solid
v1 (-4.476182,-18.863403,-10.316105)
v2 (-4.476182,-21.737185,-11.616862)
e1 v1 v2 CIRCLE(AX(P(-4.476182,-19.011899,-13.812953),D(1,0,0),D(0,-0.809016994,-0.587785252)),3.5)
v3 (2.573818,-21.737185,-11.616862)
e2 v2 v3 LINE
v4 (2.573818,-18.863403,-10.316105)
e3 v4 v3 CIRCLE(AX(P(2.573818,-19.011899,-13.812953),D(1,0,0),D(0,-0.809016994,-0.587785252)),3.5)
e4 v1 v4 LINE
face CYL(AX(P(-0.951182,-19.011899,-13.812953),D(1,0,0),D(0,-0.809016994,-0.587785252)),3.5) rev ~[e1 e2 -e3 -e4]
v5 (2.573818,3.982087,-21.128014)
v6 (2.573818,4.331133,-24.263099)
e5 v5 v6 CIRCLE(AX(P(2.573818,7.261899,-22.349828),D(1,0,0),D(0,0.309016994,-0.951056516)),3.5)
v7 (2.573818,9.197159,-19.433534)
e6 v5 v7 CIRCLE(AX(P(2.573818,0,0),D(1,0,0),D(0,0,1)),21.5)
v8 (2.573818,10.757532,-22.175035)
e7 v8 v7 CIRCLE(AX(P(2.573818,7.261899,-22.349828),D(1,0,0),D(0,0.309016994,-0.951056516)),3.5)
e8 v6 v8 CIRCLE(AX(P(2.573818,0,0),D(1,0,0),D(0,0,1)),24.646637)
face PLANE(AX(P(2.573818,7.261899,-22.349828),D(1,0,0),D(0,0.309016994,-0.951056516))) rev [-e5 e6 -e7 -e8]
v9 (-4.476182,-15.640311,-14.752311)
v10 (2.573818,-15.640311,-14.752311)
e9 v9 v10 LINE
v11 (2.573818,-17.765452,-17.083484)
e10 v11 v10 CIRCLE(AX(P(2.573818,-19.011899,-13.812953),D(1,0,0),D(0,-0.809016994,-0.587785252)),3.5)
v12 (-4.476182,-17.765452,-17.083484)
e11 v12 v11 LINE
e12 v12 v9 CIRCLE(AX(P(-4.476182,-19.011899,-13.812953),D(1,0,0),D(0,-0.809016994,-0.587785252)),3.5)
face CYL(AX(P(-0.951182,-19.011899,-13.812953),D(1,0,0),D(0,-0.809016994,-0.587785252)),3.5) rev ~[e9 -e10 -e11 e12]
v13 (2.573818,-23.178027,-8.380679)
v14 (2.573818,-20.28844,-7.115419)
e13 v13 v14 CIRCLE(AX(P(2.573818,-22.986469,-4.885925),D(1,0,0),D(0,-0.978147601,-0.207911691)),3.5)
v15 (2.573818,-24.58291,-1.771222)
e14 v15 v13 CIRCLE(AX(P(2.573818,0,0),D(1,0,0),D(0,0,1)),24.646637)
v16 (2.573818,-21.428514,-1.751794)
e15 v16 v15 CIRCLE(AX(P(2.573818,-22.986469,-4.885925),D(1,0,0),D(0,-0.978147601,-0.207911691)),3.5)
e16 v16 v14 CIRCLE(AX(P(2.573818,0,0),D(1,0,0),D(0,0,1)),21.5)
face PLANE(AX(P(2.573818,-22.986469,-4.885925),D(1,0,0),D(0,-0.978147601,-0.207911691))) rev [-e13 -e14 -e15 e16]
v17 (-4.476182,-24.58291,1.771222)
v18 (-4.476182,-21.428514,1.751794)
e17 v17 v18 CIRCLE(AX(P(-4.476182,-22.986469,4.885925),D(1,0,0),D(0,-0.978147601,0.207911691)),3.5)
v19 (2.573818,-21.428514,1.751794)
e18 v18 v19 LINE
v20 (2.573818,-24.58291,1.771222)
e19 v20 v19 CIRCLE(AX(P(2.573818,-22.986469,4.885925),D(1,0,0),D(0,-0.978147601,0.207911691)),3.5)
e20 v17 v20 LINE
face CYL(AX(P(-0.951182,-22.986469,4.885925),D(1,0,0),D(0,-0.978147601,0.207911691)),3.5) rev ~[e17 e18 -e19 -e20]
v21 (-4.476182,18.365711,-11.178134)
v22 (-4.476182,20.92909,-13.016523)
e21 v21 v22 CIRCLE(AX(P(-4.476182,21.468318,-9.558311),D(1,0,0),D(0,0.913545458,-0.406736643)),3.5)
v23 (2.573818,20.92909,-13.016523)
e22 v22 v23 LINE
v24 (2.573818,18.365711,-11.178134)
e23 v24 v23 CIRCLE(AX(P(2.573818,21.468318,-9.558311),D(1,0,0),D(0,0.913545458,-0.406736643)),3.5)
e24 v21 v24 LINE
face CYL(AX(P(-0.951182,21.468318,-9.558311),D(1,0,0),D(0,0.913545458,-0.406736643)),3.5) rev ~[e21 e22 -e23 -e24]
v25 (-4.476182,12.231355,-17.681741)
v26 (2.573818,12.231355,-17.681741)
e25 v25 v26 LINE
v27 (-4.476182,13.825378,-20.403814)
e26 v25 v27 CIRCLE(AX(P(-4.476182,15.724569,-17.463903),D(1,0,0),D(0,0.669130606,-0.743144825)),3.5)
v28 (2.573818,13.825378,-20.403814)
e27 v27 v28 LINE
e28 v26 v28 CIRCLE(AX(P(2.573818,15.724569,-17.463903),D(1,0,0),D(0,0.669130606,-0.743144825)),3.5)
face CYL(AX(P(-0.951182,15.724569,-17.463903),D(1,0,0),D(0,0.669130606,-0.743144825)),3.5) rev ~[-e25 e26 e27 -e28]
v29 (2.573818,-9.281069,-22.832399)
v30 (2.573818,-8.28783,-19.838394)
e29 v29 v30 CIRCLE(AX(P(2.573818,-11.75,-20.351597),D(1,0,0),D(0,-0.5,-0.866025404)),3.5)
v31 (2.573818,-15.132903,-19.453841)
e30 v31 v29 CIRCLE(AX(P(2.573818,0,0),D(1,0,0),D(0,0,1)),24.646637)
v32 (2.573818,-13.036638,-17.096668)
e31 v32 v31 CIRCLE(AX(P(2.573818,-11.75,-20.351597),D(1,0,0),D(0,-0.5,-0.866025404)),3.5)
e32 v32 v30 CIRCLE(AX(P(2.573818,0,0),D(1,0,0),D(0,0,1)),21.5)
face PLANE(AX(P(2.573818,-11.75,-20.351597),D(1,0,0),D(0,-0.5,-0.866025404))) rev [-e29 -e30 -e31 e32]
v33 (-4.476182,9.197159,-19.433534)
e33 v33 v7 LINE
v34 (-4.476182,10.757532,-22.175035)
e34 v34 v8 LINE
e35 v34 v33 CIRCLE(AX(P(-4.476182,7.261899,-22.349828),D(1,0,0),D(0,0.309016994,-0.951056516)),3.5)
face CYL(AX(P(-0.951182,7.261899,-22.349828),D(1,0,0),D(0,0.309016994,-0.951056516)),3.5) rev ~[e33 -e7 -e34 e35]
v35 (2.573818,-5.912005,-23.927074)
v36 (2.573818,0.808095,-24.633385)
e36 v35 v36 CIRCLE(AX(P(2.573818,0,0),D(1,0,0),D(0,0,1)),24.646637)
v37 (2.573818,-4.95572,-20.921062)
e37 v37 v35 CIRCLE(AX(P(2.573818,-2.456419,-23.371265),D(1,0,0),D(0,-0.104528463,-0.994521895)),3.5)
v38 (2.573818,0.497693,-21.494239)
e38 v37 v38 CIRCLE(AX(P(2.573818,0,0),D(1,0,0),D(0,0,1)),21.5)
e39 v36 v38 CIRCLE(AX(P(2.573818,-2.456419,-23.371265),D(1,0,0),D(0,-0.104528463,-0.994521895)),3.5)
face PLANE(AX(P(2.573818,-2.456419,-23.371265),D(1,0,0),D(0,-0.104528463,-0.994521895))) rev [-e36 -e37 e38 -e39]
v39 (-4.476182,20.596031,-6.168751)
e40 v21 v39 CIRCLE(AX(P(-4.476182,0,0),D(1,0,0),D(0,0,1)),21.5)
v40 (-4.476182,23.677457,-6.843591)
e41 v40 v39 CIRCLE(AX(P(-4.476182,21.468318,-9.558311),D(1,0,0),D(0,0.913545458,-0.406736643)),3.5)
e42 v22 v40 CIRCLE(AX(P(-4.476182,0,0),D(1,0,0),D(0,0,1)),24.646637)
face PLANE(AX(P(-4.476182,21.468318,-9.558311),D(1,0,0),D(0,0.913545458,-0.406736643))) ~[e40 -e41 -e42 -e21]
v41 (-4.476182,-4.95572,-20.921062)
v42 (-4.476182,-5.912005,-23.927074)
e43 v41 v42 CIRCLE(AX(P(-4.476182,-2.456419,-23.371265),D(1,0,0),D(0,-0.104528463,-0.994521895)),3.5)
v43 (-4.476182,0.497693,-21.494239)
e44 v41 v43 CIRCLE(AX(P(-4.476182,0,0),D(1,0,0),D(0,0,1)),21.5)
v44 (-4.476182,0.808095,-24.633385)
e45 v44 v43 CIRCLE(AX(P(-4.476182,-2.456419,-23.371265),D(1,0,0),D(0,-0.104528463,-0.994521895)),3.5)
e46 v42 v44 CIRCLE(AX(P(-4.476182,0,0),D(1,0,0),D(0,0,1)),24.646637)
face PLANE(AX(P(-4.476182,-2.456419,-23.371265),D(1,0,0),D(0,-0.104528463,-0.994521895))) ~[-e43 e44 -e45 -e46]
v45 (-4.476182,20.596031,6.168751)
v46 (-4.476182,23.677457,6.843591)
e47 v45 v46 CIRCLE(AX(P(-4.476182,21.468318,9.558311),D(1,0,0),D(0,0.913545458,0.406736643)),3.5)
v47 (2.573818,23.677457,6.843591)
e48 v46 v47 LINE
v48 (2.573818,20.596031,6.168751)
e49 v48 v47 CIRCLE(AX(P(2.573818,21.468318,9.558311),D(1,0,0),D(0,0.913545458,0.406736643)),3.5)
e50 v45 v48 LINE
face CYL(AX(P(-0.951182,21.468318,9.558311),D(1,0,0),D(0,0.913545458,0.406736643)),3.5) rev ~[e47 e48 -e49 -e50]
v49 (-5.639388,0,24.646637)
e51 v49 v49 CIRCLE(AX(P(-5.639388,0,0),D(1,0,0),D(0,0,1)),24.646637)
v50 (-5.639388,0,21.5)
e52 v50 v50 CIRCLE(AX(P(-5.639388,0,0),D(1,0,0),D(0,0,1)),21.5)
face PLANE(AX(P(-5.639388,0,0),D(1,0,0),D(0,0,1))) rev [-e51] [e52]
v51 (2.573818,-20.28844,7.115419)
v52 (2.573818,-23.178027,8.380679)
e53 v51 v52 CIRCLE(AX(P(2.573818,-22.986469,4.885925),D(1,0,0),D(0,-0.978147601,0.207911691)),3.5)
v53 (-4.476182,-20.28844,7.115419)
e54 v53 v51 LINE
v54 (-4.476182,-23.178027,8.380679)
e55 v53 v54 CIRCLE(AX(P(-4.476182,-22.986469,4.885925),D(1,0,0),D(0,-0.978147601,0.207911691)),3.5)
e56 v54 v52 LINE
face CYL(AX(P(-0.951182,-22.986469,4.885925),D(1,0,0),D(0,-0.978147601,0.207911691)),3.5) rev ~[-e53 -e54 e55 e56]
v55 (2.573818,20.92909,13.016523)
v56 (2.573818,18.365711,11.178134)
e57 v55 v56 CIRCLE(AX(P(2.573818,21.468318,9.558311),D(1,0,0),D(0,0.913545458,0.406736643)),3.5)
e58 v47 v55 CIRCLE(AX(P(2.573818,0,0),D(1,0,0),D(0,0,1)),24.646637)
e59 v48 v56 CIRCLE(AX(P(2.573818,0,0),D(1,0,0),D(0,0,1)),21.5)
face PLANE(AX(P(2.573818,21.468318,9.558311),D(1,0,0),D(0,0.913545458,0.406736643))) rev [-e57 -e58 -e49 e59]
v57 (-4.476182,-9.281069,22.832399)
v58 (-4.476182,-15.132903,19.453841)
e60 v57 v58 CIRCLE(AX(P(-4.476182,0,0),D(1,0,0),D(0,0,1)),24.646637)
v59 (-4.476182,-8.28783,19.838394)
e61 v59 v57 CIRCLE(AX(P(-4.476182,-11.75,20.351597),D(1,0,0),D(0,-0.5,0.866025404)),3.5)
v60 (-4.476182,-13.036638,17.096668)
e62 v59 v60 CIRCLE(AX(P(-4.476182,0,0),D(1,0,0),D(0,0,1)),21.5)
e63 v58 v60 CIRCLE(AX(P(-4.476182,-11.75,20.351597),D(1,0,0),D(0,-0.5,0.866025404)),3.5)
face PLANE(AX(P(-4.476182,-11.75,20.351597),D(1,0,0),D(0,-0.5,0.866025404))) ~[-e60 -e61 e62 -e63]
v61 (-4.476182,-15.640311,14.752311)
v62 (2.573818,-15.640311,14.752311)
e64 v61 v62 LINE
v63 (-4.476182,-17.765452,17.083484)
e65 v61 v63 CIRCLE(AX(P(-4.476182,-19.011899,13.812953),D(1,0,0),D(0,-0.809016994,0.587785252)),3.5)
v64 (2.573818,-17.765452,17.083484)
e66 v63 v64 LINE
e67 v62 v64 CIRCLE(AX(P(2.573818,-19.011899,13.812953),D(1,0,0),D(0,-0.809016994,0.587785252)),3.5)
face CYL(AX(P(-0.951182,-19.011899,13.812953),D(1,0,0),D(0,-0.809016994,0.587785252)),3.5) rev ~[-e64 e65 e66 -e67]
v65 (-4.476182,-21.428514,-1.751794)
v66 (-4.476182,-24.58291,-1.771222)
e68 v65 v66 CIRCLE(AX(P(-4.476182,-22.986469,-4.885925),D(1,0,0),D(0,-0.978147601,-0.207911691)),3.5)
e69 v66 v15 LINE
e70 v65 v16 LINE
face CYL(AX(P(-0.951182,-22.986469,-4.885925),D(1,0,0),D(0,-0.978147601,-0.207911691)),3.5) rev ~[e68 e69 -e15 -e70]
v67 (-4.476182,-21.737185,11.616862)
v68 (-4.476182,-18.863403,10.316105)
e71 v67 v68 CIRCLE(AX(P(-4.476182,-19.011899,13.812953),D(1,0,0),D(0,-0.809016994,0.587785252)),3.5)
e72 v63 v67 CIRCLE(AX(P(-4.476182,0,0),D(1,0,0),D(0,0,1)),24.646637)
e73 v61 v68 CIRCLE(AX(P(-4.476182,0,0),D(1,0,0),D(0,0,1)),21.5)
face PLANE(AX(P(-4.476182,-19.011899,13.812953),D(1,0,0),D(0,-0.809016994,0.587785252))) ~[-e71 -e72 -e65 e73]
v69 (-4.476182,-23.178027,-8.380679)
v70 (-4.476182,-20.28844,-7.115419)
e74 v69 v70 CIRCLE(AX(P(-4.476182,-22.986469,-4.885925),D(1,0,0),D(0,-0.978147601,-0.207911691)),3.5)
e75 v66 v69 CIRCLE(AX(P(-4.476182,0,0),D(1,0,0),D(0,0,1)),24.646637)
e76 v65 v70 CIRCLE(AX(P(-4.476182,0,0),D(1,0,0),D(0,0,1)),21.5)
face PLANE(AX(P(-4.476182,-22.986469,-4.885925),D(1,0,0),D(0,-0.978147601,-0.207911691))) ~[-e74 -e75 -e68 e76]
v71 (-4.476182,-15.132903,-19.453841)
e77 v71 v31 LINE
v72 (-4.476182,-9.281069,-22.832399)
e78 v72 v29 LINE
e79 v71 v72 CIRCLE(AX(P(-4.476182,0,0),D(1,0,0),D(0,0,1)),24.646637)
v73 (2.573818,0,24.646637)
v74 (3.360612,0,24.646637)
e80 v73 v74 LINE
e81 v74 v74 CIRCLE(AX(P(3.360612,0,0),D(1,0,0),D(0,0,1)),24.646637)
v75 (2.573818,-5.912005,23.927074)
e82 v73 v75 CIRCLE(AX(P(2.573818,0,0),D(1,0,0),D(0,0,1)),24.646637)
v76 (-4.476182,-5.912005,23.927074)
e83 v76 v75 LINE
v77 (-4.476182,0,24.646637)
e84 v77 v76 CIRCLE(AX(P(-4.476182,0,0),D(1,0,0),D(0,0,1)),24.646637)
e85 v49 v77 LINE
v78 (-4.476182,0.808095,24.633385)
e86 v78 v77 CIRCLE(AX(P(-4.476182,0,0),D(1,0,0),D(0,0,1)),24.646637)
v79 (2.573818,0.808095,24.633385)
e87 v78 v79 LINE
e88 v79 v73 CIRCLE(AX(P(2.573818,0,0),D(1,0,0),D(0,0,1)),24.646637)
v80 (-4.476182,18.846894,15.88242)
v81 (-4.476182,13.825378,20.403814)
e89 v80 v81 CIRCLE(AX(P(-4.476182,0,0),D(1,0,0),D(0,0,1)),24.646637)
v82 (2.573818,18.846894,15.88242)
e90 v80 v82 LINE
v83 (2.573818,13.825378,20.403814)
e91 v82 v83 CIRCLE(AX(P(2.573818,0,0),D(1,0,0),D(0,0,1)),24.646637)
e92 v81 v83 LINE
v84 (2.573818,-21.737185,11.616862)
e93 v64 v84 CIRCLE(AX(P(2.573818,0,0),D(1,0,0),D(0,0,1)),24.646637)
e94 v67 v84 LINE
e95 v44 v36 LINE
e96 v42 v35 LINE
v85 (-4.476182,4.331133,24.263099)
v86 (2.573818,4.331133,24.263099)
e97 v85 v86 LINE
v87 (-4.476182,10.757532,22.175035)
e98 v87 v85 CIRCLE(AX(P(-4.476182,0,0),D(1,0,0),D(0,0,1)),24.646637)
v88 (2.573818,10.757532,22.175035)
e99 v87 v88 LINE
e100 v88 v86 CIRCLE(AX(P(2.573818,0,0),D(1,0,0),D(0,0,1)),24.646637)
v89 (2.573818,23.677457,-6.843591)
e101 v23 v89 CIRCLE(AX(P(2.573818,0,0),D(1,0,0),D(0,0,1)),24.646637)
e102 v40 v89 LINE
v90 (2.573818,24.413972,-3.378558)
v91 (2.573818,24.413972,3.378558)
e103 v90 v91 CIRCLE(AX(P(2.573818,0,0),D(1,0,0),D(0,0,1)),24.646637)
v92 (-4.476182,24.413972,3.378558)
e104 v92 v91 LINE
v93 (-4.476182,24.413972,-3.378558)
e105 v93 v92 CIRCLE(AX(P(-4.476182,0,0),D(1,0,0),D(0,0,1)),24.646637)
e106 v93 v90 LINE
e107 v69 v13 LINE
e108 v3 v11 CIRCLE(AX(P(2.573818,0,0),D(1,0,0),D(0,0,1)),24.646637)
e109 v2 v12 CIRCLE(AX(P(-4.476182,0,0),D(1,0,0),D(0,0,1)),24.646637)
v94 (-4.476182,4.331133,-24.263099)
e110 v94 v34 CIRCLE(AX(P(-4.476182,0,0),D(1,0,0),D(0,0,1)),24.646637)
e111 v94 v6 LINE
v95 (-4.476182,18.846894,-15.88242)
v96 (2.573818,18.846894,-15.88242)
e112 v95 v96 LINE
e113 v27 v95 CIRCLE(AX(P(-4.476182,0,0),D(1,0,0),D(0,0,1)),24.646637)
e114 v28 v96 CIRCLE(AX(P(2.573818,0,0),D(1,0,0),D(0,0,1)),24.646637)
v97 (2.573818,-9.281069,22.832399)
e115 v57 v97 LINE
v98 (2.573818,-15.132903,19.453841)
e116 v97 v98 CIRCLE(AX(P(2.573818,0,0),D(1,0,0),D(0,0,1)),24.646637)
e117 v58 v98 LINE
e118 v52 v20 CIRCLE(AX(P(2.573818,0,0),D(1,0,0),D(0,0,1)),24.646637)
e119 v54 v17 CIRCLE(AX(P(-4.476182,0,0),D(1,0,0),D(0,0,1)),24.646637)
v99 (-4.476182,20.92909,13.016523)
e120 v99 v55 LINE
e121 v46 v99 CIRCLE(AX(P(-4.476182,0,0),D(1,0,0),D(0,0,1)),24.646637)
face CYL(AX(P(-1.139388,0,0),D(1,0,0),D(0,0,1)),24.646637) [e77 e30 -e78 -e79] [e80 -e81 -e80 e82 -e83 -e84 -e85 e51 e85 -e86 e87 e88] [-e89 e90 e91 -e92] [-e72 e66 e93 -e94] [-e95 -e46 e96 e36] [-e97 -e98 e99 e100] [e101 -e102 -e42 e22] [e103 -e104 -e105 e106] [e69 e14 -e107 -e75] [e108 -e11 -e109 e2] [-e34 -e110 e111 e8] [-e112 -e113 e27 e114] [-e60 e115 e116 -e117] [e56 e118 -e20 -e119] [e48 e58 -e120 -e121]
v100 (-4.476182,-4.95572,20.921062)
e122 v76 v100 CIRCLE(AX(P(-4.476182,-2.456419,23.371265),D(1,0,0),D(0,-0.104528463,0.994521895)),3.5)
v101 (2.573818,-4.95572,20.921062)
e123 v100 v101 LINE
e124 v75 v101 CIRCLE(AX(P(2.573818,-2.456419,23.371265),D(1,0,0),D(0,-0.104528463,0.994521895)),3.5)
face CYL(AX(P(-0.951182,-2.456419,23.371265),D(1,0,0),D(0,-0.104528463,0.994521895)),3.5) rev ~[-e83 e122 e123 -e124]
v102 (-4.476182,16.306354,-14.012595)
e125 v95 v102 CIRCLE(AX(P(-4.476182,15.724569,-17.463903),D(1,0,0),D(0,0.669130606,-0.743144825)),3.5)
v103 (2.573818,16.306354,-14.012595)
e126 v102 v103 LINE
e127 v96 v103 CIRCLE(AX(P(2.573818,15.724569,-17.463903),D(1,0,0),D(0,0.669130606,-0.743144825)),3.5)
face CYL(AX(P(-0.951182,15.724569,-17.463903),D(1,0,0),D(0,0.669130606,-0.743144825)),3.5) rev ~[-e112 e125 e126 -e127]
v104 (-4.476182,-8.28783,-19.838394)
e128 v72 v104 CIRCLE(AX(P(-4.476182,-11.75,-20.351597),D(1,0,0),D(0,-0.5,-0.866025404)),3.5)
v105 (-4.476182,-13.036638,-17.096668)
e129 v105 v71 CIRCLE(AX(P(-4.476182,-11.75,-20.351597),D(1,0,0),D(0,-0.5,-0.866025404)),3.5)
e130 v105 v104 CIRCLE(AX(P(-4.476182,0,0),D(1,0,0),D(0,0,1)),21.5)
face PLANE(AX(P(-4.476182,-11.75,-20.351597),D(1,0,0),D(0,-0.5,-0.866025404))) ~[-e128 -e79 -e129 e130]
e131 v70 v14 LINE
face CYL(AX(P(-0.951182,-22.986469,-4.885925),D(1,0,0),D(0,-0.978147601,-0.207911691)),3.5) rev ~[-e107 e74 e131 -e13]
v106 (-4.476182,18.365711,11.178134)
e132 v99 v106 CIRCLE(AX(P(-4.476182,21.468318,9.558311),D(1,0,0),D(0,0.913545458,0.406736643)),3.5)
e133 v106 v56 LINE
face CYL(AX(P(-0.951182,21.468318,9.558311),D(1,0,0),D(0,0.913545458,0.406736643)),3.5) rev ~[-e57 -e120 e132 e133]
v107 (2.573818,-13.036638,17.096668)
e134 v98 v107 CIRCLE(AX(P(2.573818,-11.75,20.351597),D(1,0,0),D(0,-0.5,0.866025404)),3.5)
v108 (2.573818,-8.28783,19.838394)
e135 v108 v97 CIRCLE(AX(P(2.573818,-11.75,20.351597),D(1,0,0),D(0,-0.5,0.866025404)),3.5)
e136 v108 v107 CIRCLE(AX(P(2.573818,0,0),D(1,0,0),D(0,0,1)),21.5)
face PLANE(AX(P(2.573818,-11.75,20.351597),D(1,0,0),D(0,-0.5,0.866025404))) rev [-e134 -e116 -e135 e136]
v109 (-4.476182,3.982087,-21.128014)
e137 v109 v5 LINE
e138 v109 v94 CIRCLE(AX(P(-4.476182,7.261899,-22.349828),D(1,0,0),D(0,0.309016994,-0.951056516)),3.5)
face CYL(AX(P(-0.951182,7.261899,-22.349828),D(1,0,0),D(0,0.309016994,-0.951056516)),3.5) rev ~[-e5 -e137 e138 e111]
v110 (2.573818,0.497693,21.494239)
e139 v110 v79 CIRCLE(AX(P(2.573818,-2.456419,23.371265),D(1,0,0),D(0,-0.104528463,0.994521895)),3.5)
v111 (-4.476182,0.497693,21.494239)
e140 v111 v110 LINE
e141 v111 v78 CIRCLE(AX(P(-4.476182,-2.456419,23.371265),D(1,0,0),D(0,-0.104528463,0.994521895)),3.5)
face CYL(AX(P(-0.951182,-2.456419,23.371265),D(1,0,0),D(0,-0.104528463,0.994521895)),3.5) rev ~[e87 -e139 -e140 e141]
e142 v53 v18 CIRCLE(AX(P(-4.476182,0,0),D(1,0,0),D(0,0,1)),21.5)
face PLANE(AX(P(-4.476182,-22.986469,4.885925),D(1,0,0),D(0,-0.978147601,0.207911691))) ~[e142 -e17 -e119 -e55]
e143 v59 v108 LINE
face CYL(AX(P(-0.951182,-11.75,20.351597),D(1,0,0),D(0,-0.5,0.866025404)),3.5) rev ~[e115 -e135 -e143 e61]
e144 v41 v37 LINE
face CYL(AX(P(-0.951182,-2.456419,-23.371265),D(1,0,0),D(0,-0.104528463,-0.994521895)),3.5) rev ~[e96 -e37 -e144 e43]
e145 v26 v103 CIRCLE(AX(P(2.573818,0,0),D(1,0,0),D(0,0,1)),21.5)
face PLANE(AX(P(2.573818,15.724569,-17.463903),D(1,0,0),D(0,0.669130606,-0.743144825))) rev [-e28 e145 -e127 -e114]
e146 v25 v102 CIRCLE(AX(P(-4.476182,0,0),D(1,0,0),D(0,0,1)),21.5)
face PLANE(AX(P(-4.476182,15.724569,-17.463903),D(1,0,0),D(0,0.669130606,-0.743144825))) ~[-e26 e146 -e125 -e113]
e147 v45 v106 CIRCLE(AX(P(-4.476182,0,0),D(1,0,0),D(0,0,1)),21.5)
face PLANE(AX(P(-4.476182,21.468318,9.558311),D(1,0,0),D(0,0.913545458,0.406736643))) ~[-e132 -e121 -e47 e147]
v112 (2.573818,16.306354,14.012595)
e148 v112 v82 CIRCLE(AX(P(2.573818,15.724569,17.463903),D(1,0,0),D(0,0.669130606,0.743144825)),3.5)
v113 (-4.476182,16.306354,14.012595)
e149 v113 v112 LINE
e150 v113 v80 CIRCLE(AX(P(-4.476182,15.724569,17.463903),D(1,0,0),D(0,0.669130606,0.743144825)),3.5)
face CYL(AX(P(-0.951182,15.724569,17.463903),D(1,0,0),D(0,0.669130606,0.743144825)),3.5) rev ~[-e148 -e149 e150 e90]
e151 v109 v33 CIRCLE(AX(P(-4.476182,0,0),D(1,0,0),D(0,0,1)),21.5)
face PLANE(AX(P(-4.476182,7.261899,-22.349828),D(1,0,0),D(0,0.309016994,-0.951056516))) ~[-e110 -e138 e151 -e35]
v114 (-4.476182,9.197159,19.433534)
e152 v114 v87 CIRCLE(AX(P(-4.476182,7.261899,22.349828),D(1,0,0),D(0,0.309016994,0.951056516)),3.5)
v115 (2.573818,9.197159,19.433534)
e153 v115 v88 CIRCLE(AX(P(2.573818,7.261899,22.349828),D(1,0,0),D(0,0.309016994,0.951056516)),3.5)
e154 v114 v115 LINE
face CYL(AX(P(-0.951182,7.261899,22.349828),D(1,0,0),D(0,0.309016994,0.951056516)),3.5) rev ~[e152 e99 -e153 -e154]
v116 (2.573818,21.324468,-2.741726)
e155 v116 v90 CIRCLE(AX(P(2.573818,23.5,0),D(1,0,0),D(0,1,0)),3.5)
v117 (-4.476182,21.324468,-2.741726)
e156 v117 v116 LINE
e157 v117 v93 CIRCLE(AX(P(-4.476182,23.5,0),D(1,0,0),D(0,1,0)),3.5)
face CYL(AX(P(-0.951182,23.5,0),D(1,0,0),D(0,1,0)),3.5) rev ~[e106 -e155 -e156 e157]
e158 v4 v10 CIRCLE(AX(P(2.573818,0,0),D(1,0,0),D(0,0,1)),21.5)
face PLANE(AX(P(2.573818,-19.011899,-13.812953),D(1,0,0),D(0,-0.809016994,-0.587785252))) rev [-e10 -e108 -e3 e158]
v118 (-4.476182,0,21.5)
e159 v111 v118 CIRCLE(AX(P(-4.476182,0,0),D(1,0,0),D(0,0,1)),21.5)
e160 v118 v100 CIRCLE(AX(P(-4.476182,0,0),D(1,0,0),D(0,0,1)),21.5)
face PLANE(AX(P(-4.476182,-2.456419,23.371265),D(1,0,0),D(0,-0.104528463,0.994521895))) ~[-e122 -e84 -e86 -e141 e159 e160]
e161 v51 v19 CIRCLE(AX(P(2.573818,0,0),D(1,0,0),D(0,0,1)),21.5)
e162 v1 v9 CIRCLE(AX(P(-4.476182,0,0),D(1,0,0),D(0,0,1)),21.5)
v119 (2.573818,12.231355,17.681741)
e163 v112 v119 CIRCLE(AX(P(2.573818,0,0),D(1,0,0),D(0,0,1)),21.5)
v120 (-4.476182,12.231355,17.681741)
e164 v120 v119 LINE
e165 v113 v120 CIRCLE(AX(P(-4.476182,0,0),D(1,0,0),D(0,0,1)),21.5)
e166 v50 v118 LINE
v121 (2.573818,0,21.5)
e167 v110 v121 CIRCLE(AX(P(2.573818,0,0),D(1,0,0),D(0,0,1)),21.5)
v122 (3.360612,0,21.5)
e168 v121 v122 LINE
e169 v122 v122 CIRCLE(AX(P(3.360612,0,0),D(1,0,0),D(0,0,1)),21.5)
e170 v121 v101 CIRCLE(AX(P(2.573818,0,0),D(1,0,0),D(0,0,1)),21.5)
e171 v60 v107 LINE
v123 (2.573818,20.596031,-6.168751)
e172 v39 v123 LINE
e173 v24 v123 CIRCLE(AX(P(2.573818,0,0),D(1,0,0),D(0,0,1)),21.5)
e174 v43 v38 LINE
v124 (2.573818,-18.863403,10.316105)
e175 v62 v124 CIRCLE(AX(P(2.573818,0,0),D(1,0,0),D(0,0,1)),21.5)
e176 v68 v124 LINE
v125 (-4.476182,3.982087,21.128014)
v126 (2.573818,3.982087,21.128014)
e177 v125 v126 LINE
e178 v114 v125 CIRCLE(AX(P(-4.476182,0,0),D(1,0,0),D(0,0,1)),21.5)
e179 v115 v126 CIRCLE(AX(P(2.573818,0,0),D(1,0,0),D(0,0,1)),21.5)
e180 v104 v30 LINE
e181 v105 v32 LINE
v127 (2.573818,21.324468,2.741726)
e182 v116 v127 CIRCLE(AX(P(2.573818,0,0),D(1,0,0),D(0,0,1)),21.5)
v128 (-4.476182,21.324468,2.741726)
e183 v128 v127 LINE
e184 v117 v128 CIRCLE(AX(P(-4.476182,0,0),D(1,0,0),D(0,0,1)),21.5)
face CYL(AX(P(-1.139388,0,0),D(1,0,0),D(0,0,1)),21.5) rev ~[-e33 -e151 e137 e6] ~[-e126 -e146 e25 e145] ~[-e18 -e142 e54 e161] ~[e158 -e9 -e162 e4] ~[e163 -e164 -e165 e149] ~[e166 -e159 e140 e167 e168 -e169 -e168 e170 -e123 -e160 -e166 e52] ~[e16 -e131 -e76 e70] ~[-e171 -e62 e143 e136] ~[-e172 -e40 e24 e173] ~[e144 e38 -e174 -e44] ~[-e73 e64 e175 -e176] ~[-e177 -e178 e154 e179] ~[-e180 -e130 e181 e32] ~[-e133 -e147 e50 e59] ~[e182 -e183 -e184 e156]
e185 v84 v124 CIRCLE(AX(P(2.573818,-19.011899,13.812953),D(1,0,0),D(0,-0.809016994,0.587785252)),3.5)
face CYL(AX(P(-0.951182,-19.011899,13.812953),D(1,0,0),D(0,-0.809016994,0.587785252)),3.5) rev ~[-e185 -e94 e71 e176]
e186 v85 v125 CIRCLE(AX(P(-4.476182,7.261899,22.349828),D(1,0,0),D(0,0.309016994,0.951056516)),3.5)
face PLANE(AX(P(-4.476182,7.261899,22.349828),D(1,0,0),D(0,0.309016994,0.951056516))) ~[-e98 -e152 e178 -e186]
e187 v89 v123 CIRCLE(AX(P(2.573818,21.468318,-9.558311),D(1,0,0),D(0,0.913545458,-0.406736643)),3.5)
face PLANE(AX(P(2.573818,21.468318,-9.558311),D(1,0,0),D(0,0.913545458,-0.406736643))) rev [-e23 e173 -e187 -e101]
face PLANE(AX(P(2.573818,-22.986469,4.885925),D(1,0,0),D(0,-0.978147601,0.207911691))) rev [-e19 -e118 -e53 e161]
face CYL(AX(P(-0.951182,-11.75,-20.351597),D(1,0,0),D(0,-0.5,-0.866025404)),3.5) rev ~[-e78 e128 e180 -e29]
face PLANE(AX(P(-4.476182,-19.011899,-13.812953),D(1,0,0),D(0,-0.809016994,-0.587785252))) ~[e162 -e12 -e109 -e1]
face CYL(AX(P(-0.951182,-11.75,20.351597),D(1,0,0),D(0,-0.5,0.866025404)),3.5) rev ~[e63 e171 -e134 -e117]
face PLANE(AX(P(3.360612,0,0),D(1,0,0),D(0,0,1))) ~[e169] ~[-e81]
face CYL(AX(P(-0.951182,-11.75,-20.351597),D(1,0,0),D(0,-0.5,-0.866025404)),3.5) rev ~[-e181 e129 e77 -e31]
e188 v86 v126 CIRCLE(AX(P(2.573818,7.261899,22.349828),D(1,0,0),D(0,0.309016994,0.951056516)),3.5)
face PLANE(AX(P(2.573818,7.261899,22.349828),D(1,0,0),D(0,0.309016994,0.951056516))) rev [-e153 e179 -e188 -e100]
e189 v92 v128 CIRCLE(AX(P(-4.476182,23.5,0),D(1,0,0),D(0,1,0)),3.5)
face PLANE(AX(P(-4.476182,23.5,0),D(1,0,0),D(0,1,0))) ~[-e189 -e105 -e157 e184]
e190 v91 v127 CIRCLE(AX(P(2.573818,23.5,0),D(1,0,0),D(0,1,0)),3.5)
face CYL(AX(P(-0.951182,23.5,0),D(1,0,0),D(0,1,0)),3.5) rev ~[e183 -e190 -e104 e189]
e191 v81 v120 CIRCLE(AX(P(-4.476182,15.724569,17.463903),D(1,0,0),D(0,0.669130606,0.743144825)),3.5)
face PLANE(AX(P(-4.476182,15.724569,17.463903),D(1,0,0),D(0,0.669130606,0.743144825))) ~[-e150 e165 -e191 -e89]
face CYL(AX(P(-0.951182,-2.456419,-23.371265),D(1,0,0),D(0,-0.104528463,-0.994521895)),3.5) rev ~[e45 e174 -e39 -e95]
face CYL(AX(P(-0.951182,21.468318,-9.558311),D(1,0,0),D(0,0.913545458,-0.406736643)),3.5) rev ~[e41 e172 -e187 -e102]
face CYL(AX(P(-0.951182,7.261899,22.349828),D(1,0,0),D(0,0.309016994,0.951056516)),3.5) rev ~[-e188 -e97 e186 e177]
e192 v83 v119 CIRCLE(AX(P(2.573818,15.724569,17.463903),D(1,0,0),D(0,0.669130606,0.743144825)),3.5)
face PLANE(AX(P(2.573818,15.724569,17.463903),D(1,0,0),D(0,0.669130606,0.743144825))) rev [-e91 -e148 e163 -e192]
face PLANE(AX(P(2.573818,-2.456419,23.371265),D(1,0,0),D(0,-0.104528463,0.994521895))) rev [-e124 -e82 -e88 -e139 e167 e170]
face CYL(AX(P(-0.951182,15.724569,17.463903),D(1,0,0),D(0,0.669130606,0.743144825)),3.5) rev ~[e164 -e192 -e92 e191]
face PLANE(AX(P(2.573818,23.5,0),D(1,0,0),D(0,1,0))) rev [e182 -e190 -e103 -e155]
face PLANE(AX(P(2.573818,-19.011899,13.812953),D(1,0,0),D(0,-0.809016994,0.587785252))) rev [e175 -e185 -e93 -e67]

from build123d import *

# Parameters (mm, degrees)
ESQUISSE1_W                  = 9
ESQUISSE1_H                  = 3.146636507
ESQUISSE2_W                  = 7.05
ESQUISSE2_H                  = 3.5
R_P_TITION_CIRCULAIRE1_COUNT = 15


with BuildPart() as part:
    # Esquisse1 → Base-Révolution (revolve)
    with BuildSketch(Plane.XY, mode=Mode.PRIVATE) as base_r_volution_sk:
        with Locations((-1.139387669, 23.073318253)):
            Rectangle(ESQUISSE1_W, ESQUISSE1_H)
    revolve(base_r_volution_sk.sketch.rotate(Axis((-8.771095324, 0, 0), (1, 0, 0)), 90), axis=Axis((-8.771095324, 0, 0), (1, 0, 0)))

    # Esquisse2 → Enlèvement de matière-Révolution1 (revolve, cut)
    with BuildSketch(Plane.XY):
        with Locations((-0.951181968, 25.25)):
            Rectangle(ESQUISSE2_W, ESQUISSE2_H)
    enl_vement_de_mati_re_r_volution1 = revolve(axis=Axis((-7.697366985, 23.5, 0), (1, 0, 0)), mode=Mode.SUBTRACT)

    # Répétition circulaire1: Enlèvement de matière-Révolution1 ×15 about axis
    r_p_tition_circulaire1_axis = Axis((0, 0, 0), (1, 0, 0))
    for i in range(1, R_P_TITION_CIRCULAIRE1_COUNT):
        add(enl_vement_de_mati_re_r_volution1.rotate(r_p_tition_circulaire1_axis, i * 360 / R_P_TITION_CIRCULAIRE1_COUNT), mode=Mode.SUBTRACT)


solid = part.part
